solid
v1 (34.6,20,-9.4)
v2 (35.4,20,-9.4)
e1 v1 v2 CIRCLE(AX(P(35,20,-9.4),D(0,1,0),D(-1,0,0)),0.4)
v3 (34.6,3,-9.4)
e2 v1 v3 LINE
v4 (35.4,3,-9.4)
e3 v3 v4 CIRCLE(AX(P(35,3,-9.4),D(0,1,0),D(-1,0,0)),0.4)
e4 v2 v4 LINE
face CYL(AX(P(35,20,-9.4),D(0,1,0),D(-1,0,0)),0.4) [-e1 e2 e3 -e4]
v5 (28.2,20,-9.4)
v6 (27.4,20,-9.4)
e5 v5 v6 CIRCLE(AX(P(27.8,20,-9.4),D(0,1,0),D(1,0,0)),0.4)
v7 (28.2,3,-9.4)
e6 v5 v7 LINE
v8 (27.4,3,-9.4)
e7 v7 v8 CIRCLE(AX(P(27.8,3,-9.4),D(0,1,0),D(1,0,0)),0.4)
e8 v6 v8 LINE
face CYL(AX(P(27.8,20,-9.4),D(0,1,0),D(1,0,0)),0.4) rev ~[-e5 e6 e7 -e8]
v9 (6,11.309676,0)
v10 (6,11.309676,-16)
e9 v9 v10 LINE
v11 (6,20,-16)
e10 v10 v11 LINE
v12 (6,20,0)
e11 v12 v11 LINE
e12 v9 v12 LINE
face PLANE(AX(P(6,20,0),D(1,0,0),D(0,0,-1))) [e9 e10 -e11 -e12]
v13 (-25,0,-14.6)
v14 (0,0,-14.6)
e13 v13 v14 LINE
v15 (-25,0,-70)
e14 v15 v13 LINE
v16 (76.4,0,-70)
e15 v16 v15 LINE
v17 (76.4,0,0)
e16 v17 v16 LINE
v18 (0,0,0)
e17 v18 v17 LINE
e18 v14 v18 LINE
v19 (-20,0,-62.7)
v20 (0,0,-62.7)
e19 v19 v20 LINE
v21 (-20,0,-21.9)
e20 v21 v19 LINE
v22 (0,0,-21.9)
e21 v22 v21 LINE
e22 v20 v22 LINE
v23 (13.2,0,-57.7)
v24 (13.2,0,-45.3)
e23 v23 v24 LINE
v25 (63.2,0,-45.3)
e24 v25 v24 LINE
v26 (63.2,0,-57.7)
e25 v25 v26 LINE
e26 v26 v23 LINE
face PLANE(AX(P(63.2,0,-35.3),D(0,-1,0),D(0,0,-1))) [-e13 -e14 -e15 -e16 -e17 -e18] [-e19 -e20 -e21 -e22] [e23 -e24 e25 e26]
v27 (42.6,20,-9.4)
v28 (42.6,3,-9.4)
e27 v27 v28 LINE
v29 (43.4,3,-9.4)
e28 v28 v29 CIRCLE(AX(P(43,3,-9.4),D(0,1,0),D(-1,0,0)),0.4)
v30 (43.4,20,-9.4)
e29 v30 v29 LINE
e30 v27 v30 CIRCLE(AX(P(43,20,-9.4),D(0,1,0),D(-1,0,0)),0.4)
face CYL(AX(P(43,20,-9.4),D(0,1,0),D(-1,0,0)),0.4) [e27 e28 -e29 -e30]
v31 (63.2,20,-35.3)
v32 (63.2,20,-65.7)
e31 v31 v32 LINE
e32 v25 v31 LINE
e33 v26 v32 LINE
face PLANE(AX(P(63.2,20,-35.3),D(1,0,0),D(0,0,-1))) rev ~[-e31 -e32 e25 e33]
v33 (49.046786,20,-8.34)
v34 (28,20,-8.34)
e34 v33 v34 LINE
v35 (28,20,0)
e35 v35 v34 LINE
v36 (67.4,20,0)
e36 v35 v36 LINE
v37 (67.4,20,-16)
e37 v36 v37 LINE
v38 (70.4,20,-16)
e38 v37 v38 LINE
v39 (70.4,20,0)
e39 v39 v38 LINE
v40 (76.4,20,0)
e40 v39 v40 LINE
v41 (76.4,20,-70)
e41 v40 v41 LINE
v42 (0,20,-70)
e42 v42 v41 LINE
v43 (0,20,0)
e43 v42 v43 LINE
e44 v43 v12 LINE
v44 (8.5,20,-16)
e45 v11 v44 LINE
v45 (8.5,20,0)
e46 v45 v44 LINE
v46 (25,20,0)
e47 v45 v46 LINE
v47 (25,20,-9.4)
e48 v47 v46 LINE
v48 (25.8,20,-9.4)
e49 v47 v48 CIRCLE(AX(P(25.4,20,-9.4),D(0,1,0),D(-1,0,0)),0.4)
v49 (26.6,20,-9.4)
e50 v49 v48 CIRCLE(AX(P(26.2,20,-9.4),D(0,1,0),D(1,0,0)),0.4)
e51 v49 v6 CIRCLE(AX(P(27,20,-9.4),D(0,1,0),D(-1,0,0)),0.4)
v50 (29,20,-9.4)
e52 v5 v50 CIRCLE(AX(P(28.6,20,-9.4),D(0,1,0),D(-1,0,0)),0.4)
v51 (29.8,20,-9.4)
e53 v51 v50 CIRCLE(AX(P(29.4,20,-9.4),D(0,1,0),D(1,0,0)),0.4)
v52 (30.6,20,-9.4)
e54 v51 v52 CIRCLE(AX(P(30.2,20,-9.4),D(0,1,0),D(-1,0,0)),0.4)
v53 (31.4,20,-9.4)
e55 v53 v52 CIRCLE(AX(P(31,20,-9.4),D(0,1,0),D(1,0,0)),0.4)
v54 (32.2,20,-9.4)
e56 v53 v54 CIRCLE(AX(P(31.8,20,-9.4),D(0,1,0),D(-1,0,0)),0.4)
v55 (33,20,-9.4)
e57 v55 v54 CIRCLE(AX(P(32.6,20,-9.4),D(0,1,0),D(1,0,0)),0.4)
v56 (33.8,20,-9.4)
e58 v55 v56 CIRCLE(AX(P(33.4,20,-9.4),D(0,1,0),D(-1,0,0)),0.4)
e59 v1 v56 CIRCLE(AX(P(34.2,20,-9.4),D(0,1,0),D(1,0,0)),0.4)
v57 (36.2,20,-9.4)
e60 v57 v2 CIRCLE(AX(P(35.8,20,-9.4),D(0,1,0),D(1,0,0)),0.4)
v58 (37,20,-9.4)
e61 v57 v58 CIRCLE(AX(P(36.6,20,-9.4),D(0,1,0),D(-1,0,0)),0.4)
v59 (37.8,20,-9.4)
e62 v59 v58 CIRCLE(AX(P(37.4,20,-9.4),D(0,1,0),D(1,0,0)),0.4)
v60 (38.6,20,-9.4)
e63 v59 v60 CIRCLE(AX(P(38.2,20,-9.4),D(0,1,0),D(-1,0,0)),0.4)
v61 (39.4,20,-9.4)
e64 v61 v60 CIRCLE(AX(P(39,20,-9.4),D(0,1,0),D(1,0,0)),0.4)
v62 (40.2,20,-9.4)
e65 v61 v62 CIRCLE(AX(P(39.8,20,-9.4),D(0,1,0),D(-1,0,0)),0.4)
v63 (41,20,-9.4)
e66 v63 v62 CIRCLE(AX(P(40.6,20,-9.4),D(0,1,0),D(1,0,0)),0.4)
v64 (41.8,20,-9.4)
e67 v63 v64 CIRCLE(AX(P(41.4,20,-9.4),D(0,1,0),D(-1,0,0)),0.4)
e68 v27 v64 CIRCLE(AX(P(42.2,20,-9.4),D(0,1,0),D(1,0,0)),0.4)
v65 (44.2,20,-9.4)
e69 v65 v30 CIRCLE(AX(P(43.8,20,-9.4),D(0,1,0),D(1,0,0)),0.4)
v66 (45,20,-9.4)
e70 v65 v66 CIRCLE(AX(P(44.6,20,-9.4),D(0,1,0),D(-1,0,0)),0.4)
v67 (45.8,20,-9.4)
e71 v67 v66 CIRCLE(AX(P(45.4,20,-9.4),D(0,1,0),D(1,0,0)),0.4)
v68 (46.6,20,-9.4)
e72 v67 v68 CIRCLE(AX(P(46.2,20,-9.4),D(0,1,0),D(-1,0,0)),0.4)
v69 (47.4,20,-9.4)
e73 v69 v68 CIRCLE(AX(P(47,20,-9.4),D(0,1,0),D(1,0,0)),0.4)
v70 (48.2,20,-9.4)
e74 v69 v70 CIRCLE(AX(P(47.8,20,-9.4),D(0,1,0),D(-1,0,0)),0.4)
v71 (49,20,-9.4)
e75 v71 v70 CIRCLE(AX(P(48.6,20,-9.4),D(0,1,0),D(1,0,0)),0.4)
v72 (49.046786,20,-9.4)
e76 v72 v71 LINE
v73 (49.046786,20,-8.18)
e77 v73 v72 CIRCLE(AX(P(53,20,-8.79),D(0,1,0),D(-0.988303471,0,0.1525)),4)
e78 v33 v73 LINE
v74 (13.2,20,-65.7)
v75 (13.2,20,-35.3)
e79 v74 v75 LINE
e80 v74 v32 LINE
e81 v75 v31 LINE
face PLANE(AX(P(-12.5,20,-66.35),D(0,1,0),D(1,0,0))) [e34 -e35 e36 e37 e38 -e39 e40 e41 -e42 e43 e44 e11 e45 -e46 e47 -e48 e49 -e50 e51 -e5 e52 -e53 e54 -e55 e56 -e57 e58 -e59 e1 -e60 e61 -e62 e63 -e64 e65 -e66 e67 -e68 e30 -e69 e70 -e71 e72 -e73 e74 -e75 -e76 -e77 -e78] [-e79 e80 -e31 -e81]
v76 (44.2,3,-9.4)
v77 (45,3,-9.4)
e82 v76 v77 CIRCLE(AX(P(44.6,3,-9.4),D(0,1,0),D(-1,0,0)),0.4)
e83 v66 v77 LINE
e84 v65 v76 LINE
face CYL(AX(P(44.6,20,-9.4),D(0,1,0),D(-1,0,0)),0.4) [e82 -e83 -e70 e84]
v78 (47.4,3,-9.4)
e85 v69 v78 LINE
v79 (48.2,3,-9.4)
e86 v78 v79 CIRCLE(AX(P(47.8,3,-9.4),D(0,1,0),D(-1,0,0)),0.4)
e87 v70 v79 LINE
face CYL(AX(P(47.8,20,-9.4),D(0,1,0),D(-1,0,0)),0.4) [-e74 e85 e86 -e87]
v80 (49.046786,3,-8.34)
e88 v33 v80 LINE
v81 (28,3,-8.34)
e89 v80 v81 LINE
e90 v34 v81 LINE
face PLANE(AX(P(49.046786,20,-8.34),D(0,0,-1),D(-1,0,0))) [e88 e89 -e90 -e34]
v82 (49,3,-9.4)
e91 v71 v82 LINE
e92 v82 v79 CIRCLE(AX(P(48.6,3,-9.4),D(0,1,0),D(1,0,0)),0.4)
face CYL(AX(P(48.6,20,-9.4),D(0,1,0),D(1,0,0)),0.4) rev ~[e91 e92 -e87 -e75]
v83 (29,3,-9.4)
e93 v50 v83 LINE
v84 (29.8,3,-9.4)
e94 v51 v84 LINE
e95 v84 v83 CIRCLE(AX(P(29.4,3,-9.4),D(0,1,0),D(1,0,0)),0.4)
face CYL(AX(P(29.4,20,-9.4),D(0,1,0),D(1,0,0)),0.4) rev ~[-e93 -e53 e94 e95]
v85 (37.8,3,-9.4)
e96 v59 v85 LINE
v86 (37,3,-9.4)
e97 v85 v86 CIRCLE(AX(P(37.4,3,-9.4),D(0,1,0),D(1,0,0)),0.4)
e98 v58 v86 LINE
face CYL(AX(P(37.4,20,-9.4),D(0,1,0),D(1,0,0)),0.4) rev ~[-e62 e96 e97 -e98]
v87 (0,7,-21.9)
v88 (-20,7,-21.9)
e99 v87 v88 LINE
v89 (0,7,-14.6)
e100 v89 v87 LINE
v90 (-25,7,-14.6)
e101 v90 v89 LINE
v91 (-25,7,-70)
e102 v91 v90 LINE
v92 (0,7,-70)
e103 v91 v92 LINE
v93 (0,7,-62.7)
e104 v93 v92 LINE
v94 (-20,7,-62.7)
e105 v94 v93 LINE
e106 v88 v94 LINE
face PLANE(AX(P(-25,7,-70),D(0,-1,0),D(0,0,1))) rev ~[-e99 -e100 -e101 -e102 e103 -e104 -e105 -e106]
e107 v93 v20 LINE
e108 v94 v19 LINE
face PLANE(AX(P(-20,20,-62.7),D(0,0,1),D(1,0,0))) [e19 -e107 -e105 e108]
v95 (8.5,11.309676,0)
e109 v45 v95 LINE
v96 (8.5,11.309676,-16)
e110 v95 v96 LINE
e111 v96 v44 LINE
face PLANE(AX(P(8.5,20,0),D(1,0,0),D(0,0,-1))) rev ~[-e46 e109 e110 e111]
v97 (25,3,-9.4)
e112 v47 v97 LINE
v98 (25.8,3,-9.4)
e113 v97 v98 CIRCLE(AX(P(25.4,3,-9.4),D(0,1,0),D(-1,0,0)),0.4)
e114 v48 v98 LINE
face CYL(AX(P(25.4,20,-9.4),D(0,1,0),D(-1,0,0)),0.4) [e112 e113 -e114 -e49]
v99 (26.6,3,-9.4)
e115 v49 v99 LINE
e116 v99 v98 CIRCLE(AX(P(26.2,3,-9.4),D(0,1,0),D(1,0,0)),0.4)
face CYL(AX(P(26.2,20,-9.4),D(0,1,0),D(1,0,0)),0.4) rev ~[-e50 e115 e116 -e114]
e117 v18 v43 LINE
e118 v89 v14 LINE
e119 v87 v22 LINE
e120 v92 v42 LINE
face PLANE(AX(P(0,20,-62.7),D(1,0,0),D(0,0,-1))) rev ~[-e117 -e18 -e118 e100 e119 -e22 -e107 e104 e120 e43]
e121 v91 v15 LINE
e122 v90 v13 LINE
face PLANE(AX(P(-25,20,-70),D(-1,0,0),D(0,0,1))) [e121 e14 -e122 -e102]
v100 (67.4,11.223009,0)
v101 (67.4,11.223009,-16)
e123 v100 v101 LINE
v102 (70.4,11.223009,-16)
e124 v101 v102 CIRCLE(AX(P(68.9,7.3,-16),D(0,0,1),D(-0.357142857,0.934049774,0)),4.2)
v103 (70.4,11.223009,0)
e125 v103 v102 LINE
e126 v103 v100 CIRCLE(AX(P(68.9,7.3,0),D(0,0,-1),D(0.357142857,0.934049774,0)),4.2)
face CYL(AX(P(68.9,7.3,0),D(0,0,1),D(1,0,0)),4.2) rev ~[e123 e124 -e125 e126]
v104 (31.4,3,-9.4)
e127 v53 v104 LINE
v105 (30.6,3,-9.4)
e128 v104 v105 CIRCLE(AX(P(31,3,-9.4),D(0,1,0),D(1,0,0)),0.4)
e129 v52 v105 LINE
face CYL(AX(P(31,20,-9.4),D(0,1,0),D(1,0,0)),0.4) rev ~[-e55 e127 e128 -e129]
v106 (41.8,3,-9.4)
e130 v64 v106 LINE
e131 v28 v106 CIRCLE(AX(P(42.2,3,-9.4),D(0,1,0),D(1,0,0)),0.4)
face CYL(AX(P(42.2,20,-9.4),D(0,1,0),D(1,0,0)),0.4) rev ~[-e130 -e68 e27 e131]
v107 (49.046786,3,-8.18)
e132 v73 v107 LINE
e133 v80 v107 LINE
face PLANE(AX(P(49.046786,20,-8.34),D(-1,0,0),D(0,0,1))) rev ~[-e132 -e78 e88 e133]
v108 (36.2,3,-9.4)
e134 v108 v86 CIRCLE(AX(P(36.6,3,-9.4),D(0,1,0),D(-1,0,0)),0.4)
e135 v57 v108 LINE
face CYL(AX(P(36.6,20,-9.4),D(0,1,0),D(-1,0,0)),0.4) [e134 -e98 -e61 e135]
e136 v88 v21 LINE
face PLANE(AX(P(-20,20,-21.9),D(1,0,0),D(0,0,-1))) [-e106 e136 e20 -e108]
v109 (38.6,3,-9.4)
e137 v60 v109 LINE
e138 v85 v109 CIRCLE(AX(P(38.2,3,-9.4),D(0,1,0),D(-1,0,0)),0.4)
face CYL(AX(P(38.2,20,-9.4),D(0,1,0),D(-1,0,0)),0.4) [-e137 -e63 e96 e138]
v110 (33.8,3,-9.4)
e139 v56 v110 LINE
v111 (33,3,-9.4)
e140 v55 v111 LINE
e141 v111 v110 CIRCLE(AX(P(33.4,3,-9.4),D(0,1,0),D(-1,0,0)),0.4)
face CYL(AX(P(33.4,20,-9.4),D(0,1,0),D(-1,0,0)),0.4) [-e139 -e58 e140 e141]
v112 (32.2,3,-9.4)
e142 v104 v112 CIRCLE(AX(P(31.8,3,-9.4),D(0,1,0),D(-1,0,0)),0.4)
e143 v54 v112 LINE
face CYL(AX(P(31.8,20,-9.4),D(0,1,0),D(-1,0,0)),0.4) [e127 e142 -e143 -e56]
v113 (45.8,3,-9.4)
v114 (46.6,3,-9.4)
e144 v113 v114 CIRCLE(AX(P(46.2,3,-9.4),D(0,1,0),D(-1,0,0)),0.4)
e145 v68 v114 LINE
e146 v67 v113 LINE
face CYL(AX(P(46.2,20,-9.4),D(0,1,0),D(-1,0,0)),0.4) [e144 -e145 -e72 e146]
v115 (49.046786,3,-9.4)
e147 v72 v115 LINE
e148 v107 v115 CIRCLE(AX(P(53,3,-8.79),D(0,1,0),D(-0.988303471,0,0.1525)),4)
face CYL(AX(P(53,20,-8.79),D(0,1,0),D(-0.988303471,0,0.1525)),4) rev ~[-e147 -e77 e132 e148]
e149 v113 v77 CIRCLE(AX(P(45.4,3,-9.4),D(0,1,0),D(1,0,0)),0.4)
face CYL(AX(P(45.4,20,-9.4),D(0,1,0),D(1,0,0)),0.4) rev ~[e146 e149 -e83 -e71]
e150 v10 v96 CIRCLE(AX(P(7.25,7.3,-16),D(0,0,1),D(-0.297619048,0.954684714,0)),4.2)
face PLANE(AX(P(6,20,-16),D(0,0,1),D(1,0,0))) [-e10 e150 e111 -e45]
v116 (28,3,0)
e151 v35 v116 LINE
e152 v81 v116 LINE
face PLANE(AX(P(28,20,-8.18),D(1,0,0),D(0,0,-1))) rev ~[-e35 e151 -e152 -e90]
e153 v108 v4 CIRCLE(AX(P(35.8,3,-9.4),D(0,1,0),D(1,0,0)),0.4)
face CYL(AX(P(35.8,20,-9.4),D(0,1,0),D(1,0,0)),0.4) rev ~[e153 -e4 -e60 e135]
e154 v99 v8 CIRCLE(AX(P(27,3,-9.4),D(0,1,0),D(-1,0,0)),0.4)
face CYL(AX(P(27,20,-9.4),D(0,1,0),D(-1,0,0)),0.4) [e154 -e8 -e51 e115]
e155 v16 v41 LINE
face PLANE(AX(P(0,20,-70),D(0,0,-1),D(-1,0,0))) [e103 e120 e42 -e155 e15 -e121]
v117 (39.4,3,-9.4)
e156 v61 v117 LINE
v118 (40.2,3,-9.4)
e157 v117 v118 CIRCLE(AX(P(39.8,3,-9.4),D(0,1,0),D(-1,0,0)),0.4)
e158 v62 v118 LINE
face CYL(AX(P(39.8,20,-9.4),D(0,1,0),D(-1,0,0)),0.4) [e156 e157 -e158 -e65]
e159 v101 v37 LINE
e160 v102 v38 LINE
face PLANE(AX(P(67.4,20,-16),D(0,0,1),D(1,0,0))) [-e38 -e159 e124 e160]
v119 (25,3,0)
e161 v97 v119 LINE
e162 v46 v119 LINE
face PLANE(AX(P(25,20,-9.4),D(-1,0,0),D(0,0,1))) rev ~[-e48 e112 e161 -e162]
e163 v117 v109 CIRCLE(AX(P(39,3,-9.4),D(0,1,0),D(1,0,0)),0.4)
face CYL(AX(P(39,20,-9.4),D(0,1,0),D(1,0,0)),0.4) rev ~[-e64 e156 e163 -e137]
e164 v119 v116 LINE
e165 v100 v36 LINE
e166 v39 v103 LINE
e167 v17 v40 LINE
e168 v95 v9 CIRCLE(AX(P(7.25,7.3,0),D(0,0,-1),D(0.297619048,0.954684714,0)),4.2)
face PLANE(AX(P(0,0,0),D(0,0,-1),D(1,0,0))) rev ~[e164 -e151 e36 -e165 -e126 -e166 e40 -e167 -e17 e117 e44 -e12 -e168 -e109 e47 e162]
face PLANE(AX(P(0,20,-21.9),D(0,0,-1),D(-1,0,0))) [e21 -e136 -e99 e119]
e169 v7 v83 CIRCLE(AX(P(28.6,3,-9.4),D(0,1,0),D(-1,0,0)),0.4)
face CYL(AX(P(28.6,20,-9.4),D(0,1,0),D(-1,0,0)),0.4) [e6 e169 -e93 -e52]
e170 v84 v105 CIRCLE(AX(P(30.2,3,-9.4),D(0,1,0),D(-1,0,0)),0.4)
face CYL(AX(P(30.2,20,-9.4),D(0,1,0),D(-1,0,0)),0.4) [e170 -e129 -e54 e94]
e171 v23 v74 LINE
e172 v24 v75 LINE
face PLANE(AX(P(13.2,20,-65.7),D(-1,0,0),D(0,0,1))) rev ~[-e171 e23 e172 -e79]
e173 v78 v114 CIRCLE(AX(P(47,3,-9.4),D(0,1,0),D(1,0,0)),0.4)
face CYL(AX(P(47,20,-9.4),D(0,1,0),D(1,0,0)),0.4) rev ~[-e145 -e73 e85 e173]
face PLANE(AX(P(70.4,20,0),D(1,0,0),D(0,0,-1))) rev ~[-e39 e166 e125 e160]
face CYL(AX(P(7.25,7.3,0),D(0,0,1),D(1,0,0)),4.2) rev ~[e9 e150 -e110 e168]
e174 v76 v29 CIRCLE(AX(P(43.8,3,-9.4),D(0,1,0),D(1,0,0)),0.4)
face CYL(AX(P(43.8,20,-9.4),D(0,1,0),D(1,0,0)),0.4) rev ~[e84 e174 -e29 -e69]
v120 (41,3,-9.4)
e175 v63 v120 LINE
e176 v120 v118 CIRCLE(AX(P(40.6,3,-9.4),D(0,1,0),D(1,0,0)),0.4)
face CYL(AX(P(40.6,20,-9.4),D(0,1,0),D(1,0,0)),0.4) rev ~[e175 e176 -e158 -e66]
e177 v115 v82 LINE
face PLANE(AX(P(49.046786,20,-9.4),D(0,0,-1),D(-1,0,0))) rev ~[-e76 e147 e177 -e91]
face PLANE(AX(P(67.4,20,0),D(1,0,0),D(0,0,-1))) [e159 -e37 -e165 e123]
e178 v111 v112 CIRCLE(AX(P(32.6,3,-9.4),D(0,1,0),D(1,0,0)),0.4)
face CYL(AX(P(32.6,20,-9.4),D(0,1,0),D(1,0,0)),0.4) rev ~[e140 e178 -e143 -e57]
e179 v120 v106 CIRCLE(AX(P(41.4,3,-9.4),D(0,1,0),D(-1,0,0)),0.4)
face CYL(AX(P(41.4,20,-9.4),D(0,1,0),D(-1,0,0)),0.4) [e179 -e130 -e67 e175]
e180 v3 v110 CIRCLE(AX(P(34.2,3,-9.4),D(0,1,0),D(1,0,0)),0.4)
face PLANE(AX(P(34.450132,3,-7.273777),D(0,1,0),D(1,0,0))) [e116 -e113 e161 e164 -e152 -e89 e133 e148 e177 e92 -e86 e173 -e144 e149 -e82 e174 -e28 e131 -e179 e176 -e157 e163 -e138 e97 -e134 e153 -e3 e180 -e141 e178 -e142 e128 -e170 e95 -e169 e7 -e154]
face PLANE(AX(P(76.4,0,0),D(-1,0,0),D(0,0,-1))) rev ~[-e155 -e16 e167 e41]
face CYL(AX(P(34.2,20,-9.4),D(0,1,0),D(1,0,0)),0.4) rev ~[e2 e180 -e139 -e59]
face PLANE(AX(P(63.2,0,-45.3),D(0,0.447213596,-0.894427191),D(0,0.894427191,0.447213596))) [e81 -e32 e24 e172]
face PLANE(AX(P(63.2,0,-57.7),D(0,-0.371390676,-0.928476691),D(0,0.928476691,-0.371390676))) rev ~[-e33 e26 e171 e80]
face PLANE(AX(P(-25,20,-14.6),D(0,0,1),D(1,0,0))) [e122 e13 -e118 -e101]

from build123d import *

# Parameters (mm, degrees)
BOSS_EXTRUDE1_DEPTH  = 20
SKETCH2_R            = 4
CUT_EXTRUDE1_DEPTH   = 17
BOSS_EXTRUDE4_DEPTH  = 17
LPATTERN14_COUNT     = 15
LPATTERN14_PITCH     = 1.6
CUT_EXTRUDE4_DEPTH   = 17
LPATTERN15_COUNT     = 15
LPATTERN15_PITCH     = 1.6
BOSS_EXTRUDE5_DEPTH  = 17
SKETCH10_W           = 2.5
SKETCH10_H           = 16
SKETCH10_W_2         = 3
CUT_EXTRUDE5_DEPTH   = 8.5
CUT_EXTRUDE7_DEPTH   = 16
SKETCH11_4_R         = 4.2
CUT_EXTRUDE8_DEPTH   = 16
CUT_EXTRUDE9_DEPTH   = 16
SKETCH12_3_R         = 4.2
CUT_EXTRUDE10_DEPTH  = 16
SKETCH19_W           = 5
SKETCH19_H           = 40.8
BOSS_EXTRUDE8_DEPTH  = 20
CUT_EXTRUDE11_DEPTH  = 6
SKETCH23_W           = 50
SKETCH23_H           = 4
SKETCH23_H_2         = 9.2
SKETCH23_H_3         = 17.2
CUT_EXTRUDE12_DEPTH  = 106.531796156
CUT_EXTRUDE15_REACH  = 126.828
SKETCH28_W           = 55.4
SKETCH28_H           = 7
BOSS_EXTRUDE10_REACH = 116.365


with BuildPart() as part:
    # Sketch1 → Boss-Extrude1 (new body)
    with BuildSketch(Plane(origin=(0, 0, 0), x_dir=(1, 0, 0), z_dir=(0, 1, 0))):
        Polygon((0, 0), (76.4, 0), (76.4, 16), (76.4, 70), (0, 70), align=None)
    extrude(amount=BOSS_EXTRUDE1_DEPTH)

    # Sketch2 → Cut-Extrude1 (cut)
    with BuildSketch(Plane(origin=(0, 20, 0), x_dir=(1, 0, 0), z_dir=(0, 1, 0))):
        with BuildLine():
            Line((25, 9.4), (25, 0))
            Line((25, 0), (28, 0))
            Line((28, 0), (28, 8.18))
            Line((28, 8.18), (49, 8.18))
            Line((49, 8.18), (49.046786118, 8.18))
            ThreePointArc((49.046786118, 8.18), (49, 8.79), (49.046786118, 9.4))
            Line((49.046786118, 9.4), (49, 9.4))
            Line((49, 9.4), (28, 9.4))
            Line((28, 9.4), (25, 9.4))
        make_face()
        with Locations((53, 8.79)):
            Circle(SKETCH2_R)
    extrude(amount=-CUT_EXTRUDE1_DEPTH, mode=Mode.SUBTRACT)

    # Sketch4 → Boss-Extrude4 (add)
    with BuildSketch(Plane(origin=(0, 20, 0), x_dir=(1, 0, 0), z_dir=(0, 1, 0))):
        with BuildLine():
            Line((25.4, 9.4), (25, 9.4))
            ThreePointArc((25, 9.4), (25.4, 9), (25.8, 9.4))
            Line((25.8, 9.4), (25.4, 9.4))
        make_face()
    boss_extrude4 = extrude(amount=-BOSS_EXTRUDE4_DEPTH)

    # LPattern14: Boss-Extrude4 ×15
    with Locations(*[(i * LPATTERN14_PITCH, 0, 0) for i in range(1, LPATTERN14_COUNT)]):
        add(boss_extrude4)

    # Sketch8 → Cut-Extrude4 (cut)
    with BuildSketch(Plane(origin=(0, 20, 0), x_dir=(1, 0, 0), z_dir=(0, 1, 0))):
        with BuildLine():
            Line((25.8, 9.4), (26.6, 9.4))
            ThreePointArc((26.6, 9.4), (26.2, 9.8), (25.8, 9.4))
        make_face()
    cut_extrude4 = extrude(amount=-CUT_EXTRUDE4_DEPTH, mode=Mode.SUBTRACT)

    # LPattern15: Cut-Extrude4 ×15
    with Locations(*[(i * LPATTERN15_PITCH, 0, 0) for i in range(1, LPATTERN15_COUNT)]):
        add(cut_extrude4, mode=Mode.SUBTRACT)

    # Sketch9 → Boss-Extrude5 (add)
    with BuildSketch(Plane(origin=(0, 20, 0), x_dir=(1, 0, 0), z_dir=(0, 1, 0))):
        Polygon((28, 8.18), (28, 8.34), (48.939227735, 8.34), (49.046786118, 8.34), (49.046786118, 8.18), align=None)
    extrude(amount=-BOSS_EXTRUDE5_DEPTH)

    # Sketch10 → Cut-Extrude5 (cut)
    with BuildSketch(Plane(origin=(0, 20, 0), x_dir=(1, 0, 0), z_dir=(0, 1, 0))):
        with Locations((7.25, 8)):
            Rectangle(SKETCH10_W, SKETCH10_H)
        with Locations((68.9, 8)):
            Rectangle(SKETCH10_W_2, SKETCH10_H)
    extrude(amount=-CUT_EXTRUDE5_DEPTH, mode=Mode.SUBTRACT)

    # Sketch11 → Cut-Extrude7 (cut)
    with BuildSketch(Plane.XY):
        with BuildLine():
            Line((7.25, 11.5), (6, 11.5))
            Line((6, 11.5), (6, 11.309675797))
            ThreePointArc((6, 11.309675797), (6.617796848, 11.452146333), (7.25, 11.5))
        make_face()
        with BuildLine():
            Line((8.5, 11.5), (7.25, 11.5))
            ThreePointArc((7.25, 11.5), (7.882203152, 11.452146333), (8.5, 11.309675797))
            Line((8.5, 11.309675797), (8.5, 11.5))
        make_face()
    extrude(amount=-CUT_EXTRUDE7_DEPTH, mode=Mode.SUBTRACT)

    # Sketch11<4> → Cut-Extrude8 (cut)
    with BuildSketch(Plane.XY):
        with Locations((7.25, 7.3)):
            Circle(SKETCH11_4_R)
    extrude(amount=-CUT_EXTRUDE8_DEPTH, mode=Mode.SUBTRACT)

    # Sketch12 → Cut-Extrude9 (cut)
    with BuildSketch(Plane.XY):
        with BuildLine():
            Line((68.9, 11.5), (67.4, 11.5))
            Line((67.4, 11.5), (67.4, 11.223009049))
            ThreePointArc((67.4, 11.223009049), (68.13731986, 11.430171789), (68.9, 11.5))
        make_face()
        with BuildLine():
            Line((70.4, 11.5), (68.9, 11.5))
            ThreePointArc((68.9, 11.5), (69.66268014, 11.430171789), (70.4, 11.223009049))
            Line((70.4, 11.223009049), (70.4, 11.5))
        make_face()
    extrude(amount=-CUT_EXTRUDE9_DEPTH, mode=Mode.SUBTRACT)

    # Sketch12<3> → Cut-Extrude10 (cut)
    with BuildSketch(Plane.XY):
        with Locations((68.9, 7.3)):
            Circle(SKETCH12_3_R)
    extrude(amount=-CUT_EXTRUDE10_DEPTH, mode=Mode.SUBTRACT)

    # Sketch19 → Boss-Extrude8 (add)
    with BuildSketch(Plane(origin=(0, 20, 0), x_dir=(1, 0, 0), z_dir=(0, 1, 0))):
        Polygon((0, 62.7), (0, 70), (-25, 70), (-25, 62.7), (-20, 62.7), align=None)
        with Locations((-22.5, 42.3)):
            Rectangle(SKETCH19_W, SKETCH19_H)
        Polygon((0, 14.6), (0, 21.9), (-20, 21.9), (-25, 21.9), (-25, 14.6), align=None)
    extrude(amount=-BOSS_EXTRUDE8_DEPTH)

    # Sketch22 → Cut-Extrude11 (cut)
    with BuildSketch(Plane(origin=(0, 20, 0), x_dir=(1, 0, 0), z_dir=(0, 1, 0))):
        Polygon((-25, 14.6), (0, 14.6), (0, 21.9), (-20, 21.9), (-20, 62.7), (0, 62.7), (0, 70), (-25, 70), align=None)
    extrude(amount=-CUT_EXTRUDE11_DEPTH, mode=Mode.SUBTRACT)

    # Sketch23 → Cut-Extrude12 (cut, through all)
    with BuildSketch(Plane(origin=(0, 20, 0), x_dir=(1, 0, 0), z_dir=(0, 1, 0))):
        with Locations((38.2, 63.7)):
            Rectangle(SKETCH23_W, SKETCH23_H)
        with Locations((38.2, 57.1)):
            Rectangle(SKETCH23_W, SKETCH23_H_2)
        with Locations((38.2, 43.9)):
            Rectangle(SKETCH23_W, SKETCH23_H_3)
    extrude(amount=-CUT_EXTRUDE12_DEPTH, mode=Mode.SUBTRACT)

    # Cut-Extrude15: up to this face of the body (flat: up to its plane)
    cut_extrude15_end = Plane(part.part.faces().sort_by_distance((0, 10.512880562, -33.751990632))[0])
    # Sketch28 → Cut-Extrude15 (cut, up to the picked face)
    with BuildSketch(Plane.ZY.offset(25), mode=Mode.PRIVATE) as cut_extrude15_sk1:
        with Locations((-42.3, 10.5)):
            Rectangle(SKETCH28_W, SKETCH28_H)
    cut_extrude15_tool1 = split(extrude(cut_extrude15_sk1.sketch, amount=-CUT_EXTRUDE15_REACH, mode=Mode.PRIVATE), bisect_by=cut_extrude15_end, keep=Keep.BOTH, mode=Mode.PRIVATE)
    add(cut_extrude15_tool1.solids().sort_by(Axis((-25, 10.5, -42.3), (1, 0, 0)))[0], mode=Mode.SUBTRACT)

    # Sketch29 → Boss-Extrude10 (add, up to next)
    with BuildSketch(Plane.ZY.offset(-63.2), mode=Mode.PRIVATE) as boss_extrude10_sk1:
        Polygon((-65.7, 0), (-57.7, 0), (-65.7, 20), align=None)
    boss_extrude10_tool1 = extrude(boss_extrude10_sk1.sketch, amount=BOSS_EXTRUDE10_REACH, mode=Mode.PRIVATE) - part.part
    # Sketch29 → Boss-Extrude10 (add, up to next)
    with BuildSketch(Plane.ZY.offset(-63.2), mode=Mode.PRIVATE) as boss_extrude10_sk2:
        Polygon((-35.3, 0), (-45.3, 0), (-35.3, 20), align=None)
    boss_extrude10_tool2 = extrude(boss_extrude10_sk2.sketch, amount=BOSS_EXTRUDE10_REACH, mode=Mode.PRIVATE) - part.part
    add(boss_extrude10_tool1.solids().sort_by_distance((63.2, 6.666667, -63.033333))[0])
    add(boss_extrude10_tool2.solids().sort_by_distance((63.2, 6.666667, -38.633333))[0])


solid = part.part
